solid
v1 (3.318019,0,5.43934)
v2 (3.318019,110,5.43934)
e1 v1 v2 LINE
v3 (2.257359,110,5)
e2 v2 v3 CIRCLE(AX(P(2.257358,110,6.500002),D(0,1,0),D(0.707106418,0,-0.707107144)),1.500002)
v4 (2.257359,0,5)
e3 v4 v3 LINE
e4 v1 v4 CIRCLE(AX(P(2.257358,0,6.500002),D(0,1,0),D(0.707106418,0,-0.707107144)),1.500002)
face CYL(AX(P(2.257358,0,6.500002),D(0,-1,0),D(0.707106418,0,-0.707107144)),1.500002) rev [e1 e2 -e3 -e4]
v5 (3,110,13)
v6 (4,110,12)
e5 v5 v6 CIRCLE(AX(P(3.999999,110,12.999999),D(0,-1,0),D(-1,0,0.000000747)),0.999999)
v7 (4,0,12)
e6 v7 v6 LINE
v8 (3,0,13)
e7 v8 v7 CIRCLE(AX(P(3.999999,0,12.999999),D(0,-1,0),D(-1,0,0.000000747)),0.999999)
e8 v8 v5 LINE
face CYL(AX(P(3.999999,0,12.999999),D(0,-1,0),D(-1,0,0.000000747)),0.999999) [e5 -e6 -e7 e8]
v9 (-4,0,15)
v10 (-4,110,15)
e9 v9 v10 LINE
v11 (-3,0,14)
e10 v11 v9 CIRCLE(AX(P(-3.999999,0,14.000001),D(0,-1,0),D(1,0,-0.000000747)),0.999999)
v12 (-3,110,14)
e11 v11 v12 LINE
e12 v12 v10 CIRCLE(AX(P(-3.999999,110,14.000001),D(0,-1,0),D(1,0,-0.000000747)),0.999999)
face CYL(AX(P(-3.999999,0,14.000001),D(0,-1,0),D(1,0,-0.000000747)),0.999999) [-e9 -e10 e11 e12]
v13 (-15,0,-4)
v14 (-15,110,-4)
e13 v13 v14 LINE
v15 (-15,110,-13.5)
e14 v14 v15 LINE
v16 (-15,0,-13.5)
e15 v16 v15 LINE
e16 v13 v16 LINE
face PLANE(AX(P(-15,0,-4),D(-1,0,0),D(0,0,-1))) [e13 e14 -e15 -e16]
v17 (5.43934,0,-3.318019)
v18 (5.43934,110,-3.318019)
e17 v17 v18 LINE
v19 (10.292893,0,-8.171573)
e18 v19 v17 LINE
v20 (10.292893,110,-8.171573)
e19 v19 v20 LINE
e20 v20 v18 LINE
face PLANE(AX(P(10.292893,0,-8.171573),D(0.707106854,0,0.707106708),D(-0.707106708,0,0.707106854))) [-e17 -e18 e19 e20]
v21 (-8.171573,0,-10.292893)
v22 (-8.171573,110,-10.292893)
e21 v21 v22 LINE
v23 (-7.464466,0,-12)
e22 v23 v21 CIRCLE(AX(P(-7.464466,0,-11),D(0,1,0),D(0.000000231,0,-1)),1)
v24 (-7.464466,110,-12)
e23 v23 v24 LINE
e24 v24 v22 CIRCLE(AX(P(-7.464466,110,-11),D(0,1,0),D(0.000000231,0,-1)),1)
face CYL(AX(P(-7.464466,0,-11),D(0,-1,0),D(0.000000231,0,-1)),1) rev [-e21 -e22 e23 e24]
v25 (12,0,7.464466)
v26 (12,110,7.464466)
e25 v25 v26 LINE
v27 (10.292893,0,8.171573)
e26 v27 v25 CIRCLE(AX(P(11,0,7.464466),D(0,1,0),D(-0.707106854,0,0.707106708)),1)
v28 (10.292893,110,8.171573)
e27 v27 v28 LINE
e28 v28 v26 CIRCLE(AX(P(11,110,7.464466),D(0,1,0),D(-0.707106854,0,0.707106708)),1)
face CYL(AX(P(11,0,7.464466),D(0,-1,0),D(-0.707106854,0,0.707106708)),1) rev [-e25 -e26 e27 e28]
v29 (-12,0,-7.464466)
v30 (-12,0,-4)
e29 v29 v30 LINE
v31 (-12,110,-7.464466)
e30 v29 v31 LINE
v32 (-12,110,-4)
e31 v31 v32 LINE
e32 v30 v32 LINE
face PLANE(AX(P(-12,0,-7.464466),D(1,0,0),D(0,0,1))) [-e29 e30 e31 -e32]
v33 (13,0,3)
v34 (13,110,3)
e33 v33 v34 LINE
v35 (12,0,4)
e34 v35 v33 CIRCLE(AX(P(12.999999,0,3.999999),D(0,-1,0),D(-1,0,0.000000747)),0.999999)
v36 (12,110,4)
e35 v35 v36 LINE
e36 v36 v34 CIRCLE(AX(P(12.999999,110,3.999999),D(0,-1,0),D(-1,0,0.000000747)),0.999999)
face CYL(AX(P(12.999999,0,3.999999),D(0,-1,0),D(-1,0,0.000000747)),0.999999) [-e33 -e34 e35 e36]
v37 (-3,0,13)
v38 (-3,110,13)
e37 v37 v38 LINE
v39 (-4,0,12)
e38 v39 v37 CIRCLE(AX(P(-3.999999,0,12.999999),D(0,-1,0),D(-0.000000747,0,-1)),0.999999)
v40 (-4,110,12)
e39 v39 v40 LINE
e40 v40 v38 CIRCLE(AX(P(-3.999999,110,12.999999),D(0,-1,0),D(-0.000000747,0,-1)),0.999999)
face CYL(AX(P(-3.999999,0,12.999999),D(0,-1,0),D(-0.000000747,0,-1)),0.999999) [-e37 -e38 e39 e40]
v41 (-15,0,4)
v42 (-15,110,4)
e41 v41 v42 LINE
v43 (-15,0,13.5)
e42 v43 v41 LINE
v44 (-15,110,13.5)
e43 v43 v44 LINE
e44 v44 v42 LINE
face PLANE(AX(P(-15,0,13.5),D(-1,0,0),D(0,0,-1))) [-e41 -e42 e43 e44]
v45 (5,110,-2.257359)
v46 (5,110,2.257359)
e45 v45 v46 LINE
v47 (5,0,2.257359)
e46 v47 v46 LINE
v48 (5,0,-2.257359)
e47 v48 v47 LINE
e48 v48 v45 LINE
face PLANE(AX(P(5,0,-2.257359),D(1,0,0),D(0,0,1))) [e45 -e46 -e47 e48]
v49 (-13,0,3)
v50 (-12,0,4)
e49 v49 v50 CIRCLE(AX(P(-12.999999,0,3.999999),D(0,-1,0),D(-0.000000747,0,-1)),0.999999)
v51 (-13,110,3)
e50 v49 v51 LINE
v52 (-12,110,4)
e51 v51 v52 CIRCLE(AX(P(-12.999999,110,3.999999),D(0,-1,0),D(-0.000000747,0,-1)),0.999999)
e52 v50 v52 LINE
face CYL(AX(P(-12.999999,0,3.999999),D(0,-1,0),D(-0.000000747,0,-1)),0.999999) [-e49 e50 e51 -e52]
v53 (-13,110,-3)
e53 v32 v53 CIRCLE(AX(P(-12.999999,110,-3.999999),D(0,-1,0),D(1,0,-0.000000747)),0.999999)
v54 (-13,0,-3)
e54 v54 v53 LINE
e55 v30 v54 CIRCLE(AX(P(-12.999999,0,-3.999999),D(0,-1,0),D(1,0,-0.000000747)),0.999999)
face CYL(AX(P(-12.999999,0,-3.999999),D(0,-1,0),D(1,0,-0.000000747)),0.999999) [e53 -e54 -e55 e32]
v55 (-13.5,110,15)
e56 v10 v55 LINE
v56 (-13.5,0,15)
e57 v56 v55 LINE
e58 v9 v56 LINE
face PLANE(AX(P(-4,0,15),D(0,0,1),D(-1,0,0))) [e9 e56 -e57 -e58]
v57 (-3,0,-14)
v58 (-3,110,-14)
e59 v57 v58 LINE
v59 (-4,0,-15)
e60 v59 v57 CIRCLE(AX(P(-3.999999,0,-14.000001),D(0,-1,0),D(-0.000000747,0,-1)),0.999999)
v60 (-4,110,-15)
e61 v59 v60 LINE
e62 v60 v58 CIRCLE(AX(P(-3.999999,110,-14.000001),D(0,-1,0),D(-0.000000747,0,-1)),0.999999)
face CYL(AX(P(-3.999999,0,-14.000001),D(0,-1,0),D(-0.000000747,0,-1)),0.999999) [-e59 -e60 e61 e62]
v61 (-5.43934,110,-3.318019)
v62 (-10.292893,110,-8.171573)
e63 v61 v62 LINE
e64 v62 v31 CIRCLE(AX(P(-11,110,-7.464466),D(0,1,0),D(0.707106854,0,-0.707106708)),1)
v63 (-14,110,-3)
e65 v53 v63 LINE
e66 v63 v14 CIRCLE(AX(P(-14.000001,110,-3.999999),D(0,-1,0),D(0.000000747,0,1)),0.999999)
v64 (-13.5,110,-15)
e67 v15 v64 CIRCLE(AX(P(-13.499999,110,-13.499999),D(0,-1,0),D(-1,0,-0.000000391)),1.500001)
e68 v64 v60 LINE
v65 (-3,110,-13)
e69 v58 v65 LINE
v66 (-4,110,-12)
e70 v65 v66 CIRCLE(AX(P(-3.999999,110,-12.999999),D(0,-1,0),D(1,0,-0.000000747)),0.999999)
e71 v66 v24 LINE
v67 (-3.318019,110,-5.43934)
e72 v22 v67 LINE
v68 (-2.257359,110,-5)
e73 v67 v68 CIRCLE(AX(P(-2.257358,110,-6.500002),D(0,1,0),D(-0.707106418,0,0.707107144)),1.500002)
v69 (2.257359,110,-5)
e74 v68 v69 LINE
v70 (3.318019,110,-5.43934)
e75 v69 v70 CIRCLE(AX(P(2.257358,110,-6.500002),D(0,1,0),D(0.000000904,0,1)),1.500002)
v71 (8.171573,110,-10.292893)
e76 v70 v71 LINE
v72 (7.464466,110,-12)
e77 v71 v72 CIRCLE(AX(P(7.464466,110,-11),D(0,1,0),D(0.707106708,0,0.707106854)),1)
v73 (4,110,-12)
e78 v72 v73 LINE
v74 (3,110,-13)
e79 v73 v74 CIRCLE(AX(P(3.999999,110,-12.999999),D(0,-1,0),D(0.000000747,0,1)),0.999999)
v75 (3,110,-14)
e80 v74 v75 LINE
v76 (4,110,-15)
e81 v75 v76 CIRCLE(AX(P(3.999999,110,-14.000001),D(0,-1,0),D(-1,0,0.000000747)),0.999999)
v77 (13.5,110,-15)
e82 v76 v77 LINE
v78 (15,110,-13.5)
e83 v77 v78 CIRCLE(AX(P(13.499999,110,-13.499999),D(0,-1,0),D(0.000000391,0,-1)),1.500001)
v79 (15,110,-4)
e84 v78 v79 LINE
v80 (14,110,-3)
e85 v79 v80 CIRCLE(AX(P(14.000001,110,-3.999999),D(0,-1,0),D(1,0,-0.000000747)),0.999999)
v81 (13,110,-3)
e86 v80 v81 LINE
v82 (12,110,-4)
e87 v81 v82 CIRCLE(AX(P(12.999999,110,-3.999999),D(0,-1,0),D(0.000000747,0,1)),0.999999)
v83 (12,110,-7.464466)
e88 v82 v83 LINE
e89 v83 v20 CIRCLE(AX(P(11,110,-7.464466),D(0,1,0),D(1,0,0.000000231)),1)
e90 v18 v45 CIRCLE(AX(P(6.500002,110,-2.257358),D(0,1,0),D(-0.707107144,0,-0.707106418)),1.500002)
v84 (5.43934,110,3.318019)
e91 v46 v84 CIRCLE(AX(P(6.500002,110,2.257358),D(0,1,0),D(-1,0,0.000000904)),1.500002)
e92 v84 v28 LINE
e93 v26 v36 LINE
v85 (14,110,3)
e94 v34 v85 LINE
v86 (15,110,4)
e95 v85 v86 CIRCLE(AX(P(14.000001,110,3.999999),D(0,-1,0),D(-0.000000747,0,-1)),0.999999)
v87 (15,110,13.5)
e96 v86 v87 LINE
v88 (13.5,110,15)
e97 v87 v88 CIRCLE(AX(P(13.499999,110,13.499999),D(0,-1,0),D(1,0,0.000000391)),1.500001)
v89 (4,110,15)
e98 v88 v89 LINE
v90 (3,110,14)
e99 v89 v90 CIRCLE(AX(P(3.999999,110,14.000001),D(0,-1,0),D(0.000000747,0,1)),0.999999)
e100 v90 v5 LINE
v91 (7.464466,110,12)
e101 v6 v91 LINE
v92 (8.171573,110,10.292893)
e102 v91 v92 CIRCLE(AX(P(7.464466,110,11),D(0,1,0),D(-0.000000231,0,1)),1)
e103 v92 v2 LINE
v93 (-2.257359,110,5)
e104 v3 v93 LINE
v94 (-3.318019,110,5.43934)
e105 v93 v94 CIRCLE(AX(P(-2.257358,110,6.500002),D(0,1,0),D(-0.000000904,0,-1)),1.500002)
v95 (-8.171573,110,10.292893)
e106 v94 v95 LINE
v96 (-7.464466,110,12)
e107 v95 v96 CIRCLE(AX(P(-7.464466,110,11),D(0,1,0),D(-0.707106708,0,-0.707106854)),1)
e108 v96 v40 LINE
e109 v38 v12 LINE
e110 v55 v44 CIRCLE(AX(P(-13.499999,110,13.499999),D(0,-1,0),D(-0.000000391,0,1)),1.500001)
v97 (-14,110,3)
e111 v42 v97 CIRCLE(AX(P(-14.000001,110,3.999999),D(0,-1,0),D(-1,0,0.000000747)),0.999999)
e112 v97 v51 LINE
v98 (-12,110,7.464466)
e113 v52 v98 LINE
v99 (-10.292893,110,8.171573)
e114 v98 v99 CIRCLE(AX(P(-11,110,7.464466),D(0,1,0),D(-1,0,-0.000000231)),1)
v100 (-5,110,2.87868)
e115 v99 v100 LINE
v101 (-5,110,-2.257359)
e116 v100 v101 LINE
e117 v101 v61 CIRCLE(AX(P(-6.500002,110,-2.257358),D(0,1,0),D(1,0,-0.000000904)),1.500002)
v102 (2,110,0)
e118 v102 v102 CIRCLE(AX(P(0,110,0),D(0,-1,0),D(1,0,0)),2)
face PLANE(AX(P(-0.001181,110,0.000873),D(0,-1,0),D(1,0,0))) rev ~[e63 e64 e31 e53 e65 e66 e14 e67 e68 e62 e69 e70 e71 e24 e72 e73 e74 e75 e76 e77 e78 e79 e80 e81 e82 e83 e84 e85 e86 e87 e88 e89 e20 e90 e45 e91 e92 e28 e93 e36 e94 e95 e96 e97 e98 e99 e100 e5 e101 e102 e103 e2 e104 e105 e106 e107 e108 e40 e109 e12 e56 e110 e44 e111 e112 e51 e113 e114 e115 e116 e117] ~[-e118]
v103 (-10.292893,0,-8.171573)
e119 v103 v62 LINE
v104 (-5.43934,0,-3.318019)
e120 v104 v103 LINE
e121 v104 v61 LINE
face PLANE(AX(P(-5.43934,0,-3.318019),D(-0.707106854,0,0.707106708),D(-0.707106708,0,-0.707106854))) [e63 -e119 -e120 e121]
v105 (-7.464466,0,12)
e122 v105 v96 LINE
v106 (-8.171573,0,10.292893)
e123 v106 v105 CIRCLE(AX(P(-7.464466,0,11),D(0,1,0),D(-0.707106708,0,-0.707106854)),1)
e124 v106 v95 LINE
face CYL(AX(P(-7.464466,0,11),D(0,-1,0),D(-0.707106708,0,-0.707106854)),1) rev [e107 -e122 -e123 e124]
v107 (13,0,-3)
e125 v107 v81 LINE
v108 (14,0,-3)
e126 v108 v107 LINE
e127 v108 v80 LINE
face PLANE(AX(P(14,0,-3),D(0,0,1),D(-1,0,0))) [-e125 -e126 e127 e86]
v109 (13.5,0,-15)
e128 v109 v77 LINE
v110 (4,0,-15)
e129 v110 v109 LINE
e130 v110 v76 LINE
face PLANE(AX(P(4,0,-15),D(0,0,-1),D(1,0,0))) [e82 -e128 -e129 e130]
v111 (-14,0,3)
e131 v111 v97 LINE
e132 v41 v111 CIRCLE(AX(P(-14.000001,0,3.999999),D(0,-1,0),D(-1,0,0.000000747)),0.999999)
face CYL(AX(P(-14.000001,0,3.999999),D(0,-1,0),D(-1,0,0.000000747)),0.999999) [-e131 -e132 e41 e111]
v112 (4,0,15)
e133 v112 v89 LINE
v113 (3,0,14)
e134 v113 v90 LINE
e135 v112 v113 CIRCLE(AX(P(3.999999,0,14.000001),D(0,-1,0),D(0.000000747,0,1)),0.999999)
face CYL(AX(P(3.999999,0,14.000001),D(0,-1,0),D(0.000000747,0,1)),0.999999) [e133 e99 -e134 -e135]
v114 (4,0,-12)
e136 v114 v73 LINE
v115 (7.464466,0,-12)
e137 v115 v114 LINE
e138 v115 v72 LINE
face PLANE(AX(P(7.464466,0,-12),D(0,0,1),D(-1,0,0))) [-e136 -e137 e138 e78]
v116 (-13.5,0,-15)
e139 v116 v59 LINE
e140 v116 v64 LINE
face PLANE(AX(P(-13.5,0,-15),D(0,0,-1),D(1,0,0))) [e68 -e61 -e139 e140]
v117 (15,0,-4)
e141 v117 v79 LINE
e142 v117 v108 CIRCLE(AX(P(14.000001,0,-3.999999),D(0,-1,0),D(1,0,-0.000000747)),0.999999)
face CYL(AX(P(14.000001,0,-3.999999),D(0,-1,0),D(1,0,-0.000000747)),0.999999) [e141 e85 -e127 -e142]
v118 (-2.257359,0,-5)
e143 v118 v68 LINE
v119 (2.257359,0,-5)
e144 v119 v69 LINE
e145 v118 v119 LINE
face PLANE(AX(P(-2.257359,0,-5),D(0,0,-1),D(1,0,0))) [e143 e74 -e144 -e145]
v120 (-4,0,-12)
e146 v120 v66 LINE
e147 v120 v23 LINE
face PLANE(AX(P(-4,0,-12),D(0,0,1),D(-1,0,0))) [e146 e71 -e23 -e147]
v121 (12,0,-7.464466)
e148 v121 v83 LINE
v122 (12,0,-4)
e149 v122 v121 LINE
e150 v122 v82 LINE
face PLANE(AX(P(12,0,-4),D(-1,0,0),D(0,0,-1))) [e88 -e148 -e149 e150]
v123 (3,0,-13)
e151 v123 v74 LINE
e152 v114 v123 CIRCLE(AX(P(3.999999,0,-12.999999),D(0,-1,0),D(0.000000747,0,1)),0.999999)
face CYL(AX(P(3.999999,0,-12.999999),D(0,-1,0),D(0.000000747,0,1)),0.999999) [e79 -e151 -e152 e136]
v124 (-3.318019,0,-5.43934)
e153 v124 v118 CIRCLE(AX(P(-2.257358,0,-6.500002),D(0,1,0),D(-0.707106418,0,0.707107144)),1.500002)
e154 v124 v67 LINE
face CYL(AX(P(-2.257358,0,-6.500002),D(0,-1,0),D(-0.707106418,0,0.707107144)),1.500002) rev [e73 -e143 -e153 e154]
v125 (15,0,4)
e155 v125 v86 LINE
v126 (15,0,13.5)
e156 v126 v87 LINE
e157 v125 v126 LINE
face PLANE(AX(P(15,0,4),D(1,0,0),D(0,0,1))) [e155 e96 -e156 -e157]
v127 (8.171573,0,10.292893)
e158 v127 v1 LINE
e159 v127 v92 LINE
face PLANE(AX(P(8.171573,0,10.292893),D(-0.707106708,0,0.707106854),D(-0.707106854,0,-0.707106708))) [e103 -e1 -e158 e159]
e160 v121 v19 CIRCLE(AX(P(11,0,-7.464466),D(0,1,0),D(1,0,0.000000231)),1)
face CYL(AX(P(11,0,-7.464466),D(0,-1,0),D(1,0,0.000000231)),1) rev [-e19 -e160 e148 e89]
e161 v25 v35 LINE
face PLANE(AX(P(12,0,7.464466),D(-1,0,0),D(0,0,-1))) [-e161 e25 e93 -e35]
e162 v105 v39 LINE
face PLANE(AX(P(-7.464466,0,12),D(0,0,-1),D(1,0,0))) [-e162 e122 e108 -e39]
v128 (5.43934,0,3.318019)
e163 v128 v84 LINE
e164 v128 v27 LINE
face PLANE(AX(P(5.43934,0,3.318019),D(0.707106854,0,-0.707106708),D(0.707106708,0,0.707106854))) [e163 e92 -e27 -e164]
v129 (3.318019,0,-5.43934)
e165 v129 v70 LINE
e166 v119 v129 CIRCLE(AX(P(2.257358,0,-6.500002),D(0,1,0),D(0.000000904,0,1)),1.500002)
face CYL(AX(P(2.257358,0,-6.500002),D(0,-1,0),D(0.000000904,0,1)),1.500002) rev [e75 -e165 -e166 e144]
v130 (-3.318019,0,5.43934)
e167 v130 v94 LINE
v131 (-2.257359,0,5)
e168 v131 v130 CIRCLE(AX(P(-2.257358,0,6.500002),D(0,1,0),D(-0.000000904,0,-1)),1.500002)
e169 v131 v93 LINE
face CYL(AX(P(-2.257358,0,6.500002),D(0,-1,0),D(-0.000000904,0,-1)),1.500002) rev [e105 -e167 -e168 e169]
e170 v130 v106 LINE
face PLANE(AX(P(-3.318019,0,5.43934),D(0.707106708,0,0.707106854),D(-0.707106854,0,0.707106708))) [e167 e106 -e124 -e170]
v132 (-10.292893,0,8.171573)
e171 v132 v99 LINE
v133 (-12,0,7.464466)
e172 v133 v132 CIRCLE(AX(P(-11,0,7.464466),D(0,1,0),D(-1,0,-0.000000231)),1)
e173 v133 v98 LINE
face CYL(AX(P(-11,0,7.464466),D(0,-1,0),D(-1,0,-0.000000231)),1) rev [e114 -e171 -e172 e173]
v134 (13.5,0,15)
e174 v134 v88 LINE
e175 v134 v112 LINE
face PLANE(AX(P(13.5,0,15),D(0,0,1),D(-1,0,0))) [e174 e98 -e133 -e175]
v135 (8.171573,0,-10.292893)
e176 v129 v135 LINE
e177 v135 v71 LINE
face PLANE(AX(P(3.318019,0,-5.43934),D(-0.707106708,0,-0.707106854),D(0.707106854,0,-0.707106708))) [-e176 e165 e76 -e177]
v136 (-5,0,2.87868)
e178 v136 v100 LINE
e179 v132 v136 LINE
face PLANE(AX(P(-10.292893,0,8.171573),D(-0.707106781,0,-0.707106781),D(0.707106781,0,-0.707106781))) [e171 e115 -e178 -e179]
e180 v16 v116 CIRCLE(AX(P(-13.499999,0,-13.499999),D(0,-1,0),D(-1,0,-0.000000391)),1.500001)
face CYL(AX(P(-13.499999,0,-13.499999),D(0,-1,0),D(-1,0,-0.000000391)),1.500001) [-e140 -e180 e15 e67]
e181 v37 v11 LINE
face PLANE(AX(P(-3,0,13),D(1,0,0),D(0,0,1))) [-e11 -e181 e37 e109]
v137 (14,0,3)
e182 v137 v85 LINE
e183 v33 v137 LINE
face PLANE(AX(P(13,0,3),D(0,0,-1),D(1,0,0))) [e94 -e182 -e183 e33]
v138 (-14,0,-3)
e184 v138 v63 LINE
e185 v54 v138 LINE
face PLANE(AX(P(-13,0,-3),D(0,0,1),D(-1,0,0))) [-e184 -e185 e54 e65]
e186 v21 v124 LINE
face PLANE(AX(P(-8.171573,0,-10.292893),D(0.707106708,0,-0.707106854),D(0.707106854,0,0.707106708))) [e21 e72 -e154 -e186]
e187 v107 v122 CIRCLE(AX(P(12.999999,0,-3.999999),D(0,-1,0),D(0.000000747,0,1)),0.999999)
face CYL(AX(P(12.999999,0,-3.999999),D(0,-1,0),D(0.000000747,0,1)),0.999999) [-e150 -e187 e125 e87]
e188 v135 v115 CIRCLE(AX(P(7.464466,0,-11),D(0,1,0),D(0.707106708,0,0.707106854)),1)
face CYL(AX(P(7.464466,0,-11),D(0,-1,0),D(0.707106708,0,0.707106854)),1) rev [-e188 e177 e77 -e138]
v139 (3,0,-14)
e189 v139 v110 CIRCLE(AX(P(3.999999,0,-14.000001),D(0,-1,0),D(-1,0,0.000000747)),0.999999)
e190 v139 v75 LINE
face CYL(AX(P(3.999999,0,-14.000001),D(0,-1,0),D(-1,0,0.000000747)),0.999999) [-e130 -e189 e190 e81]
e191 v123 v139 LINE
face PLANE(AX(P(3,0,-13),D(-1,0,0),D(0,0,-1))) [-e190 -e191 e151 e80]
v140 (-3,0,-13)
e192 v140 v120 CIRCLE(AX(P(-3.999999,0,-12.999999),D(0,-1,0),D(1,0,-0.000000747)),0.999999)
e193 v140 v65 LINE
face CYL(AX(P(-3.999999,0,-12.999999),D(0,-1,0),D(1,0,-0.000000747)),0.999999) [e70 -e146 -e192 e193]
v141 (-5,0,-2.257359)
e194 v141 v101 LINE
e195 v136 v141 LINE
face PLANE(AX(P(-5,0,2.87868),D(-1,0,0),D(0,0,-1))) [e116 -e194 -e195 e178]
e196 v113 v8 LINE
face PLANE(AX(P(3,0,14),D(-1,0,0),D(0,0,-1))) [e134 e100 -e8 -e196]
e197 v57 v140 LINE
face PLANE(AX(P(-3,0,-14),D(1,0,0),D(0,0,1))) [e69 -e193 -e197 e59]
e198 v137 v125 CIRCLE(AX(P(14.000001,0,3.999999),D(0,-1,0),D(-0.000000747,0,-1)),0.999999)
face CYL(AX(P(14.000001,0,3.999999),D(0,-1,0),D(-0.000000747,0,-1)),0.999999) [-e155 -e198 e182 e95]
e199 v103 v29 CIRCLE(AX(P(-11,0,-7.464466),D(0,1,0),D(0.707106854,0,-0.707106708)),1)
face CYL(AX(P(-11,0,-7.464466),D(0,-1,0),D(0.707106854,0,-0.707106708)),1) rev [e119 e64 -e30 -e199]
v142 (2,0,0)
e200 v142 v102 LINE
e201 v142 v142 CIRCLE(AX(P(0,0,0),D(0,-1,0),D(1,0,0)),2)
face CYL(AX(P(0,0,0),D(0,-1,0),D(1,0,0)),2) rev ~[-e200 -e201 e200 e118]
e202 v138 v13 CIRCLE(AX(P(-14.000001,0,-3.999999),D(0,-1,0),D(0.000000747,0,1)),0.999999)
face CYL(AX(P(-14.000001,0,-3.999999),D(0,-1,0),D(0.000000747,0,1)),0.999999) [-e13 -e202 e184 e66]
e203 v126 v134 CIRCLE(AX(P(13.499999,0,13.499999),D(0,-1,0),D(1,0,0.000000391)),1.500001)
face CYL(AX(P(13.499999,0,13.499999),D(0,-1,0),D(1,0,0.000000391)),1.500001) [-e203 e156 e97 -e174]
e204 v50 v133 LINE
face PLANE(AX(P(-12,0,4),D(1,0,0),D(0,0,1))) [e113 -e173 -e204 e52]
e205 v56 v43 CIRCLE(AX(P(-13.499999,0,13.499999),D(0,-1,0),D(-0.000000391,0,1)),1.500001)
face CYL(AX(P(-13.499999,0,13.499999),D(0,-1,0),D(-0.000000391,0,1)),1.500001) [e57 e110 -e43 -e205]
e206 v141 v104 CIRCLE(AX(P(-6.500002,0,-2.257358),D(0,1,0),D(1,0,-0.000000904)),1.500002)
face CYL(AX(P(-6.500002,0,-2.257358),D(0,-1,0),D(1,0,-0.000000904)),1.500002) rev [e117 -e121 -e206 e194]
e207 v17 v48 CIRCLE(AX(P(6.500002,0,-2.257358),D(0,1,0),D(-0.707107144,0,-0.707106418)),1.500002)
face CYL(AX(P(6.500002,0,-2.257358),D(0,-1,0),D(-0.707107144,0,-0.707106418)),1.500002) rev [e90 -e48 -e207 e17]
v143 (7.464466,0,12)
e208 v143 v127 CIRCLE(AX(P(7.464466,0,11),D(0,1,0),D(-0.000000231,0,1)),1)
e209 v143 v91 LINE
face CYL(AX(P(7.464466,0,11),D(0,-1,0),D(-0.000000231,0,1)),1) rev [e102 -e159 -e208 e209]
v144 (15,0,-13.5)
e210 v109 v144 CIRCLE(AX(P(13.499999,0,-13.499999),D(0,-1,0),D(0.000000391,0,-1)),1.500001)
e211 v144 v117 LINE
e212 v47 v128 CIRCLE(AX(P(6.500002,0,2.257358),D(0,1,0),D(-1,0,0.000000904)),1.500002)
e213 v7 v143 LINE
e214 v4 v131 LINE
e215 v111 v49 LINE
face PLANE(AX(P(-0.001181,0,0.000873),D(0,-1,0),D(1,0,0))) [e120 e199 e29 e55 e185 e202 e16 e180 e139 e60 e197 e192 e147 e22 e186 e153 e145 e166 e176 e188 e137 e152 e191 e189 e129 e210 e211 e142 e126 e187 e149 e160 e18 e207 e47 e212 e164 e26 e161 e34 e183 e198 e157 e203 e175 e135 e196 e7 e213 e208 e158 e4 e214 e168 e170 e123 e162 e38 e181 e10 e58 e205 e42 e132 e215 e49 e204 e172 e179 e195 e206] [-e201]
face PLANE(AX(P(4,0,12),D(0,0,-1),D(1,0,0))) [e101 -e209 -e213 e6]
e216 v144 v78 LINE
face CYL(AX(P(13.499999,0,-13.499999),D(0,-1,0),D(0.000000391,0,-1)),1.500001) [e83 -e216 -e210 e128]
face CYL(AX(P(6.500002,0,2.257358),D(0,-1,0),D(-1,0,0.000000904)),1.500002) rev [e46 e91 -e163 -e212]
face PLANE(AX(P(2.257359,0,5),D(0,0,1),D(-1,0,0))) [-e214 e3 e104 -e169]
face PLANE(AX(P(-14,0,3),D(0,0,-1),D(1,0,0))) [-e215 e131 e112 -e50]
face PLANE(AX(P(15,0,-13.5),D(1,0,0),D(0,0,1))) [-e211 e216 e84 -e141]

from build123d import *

# Parameters (mm, degrees)
F0_R     = 2
F1_DEPTH = 110


with BuildPart() as f1:
    # F0 (on Front) → F1 (new body)
    with BuildSketch(Plane.XZ):
        with BuildLine():
            ThreePointArc((15, 13.5), (14.56066, 14.56066), (13.5, 15))
            Line((13.5, 15), (4, 15))
            ThreePointArc((4, 15), (3.292893, 14.707107), (3, 14))
            Line((3, 14), (3, 13))
            ThreePointArc((3, 13), (3.292893, 12.292893), (4, 12))
            Line((4, 12), (7.464466, 12))
            ThreePointArc((7.464466, 12), (8.388346, 11.382683), (8.171573, 10.292893))
            Line((8.171573, 10.292893), (3.318019, 5.43934))
            ThreePointArc((3.318019, 5.43934), (2.831384, 5.114181), (2.257359, 5))
            Line((2.257359, 5), (-2.257359, 5))
            ThreePointArc((-2.257359, 5), (-2.831384, 5.114181), (-3.318019, 5.43934))
            Line((-3.318019, 5.43934), (-8.171573, 10.292893))
            ThreePointArc((-8.171573, 10.292893), (-8.388346, 11.382683), (-7.464466, 12))
            Line((-7.464466, 12), (-4, 12))
            ThreePointArc((-4, 12), (-3.292893, 12.292893), (-3, 13))
            Line((-3, 13), (-3, 14))
            ThreePointArc((-3, 14), (-3.292893, 14.707107), (-4, 15))
            Line((-4, 15), (-13.5, 15))
            ThreePointArc((-13.5, 15), (-14.56066, 14.56066), (-15, 13.5))
            Line((-15, 13.5), (-15, 4))
            ThreePointArc((-15, 4), (-14.707107, 3.292893), (-14, 3))
            Line((-14, 3), (-13, 3))
            ThreePointArc((-13, 3), (-12.292893, 3.292893), (-12, 4))
            Line((-12, 4), (-12, 7.464466))
            ThreePointArc((-12, 7.464466), (-11.382683, 8.388346), (-10.292893, 8.171573))
            Line((-10.292893, 8.171573), (-5, 2.87868))
            Line((-5, 2.87868), (-5, -2.257359))
            ThreePointArc((-5, -2.257359), (-5.114181, -2.831384), (-5.43934, -3.318019))
            Line((-5.43934, -3.318019), (-10.292893, -8.171573))
            ThreePointArc((-10.292893, -8.171573), (-11.382683, -8.388346), (-12, -7.464466))
            Line((-12, -7.464466), (-12, -4))
            ThreePointArc((-12, -4), (-12.292893, -3.292893), (-13, -3))
            Line((-13, -3), (-14, -3))
            ThreePointArc((-14, -3), (-14.707107, -3.292893), (-15, -4))
            Line((-15, -4), (-15, -13.5))
            ThreePointArc((-15, -13.5), (-14.56066, -14.56066), (-13.5, -15))
            Line((-13.5, -15), (-4, -15))
            ThreePointArc((-4, -15), (-3.292893, -14.707107), (-3, -14))
            Line((-3, -14), (-3, -13))
            ThreePointArc((-3, -13), (-3.292893, -12.292893), (-4, -12))
            Line((-4, -12), (-7.464466, -12))
            ThreePointArc((-7.464466, -12), (-8.388346, -11.382683), (-8.171573, -10.292893))
            Line((-8.171573, -10.292893), (-3.318019, -5.43934))
            ThreePointArc((-3.318019, -5.43934), (-2.831384, -5.114181), (-2.257359, -5))
            Line((-2.257359, -5), (2.257359, -5))
            ThreePointArc((2.257359, -5), (2.831384, -5.114181), (3.318019, -5.43934))
            Line((3.318019, -5.43934), (8.171573, -10.292893))
            ThreePointArc((8.171573, -10.292893), (8.388346, -11.382683), (7.464466, -12))
            Line((7.464466, -12), (4, -12))
            ThreePointArc((4, -12), (3.292893, -12.292893), (3, -13))
            Line((3, -13), (3, -14))
            ThreePointArc((3, -14), (3.292893, -14.707107), (4, -15))
            Line((4, -15), (13.5, -15))
            ThreePointArc((13.5, -15), (14.56066, -14.56066), (15, -13.5))
            Line((15, -13.5), (15, -4))
            ThreePointArc((15, -4), (14.707107, -3.292893), (14, -3))
            Line((14, -3), (13, -3))
            ThreePointArc((13, -3), (12.292893, -3.292893), (12, -4))
            Line((12, -4), (12, -7.464466))
            ThreePointArc((12, -7.464466), (11.382683, -8.388346), (10.292893, -8.171573))
            Line((10.292893, -8.171573), (5.43934, -3.318019))
            ThreePointArc((5.43934, -3.318019), (5.114181, -2.831384), (5, -2.257359))
            Line((5, -2.257359), (5, 2.257359))
            ThreePointArc((5, 2.257359), (5.114181, 2.831384), (5.43934, 3.318019))
            Line((5.43934, 3.318019), (10.292893, 8.171573))
            ThreePointArc((10.292893, 8.171573), (11.382683, 8.388346), (12, 7.464466))
            Line((12, 7.464466), (12, 4))
            ThreePointArc((12, 4), (12.292893, 3.292893), (13, 3))
            Line((13, 3), (14, 3))
            ThreePointArc((14, 3), (14.707107, 3.292893), (15, 4))
            Line((15, 4), (15, 13.5))
        make_face()
        Circle(F0_R, mode=Mode.SUBTRACT)
    extrude(amount=-F1_DEPTH)


solid = f1.part
